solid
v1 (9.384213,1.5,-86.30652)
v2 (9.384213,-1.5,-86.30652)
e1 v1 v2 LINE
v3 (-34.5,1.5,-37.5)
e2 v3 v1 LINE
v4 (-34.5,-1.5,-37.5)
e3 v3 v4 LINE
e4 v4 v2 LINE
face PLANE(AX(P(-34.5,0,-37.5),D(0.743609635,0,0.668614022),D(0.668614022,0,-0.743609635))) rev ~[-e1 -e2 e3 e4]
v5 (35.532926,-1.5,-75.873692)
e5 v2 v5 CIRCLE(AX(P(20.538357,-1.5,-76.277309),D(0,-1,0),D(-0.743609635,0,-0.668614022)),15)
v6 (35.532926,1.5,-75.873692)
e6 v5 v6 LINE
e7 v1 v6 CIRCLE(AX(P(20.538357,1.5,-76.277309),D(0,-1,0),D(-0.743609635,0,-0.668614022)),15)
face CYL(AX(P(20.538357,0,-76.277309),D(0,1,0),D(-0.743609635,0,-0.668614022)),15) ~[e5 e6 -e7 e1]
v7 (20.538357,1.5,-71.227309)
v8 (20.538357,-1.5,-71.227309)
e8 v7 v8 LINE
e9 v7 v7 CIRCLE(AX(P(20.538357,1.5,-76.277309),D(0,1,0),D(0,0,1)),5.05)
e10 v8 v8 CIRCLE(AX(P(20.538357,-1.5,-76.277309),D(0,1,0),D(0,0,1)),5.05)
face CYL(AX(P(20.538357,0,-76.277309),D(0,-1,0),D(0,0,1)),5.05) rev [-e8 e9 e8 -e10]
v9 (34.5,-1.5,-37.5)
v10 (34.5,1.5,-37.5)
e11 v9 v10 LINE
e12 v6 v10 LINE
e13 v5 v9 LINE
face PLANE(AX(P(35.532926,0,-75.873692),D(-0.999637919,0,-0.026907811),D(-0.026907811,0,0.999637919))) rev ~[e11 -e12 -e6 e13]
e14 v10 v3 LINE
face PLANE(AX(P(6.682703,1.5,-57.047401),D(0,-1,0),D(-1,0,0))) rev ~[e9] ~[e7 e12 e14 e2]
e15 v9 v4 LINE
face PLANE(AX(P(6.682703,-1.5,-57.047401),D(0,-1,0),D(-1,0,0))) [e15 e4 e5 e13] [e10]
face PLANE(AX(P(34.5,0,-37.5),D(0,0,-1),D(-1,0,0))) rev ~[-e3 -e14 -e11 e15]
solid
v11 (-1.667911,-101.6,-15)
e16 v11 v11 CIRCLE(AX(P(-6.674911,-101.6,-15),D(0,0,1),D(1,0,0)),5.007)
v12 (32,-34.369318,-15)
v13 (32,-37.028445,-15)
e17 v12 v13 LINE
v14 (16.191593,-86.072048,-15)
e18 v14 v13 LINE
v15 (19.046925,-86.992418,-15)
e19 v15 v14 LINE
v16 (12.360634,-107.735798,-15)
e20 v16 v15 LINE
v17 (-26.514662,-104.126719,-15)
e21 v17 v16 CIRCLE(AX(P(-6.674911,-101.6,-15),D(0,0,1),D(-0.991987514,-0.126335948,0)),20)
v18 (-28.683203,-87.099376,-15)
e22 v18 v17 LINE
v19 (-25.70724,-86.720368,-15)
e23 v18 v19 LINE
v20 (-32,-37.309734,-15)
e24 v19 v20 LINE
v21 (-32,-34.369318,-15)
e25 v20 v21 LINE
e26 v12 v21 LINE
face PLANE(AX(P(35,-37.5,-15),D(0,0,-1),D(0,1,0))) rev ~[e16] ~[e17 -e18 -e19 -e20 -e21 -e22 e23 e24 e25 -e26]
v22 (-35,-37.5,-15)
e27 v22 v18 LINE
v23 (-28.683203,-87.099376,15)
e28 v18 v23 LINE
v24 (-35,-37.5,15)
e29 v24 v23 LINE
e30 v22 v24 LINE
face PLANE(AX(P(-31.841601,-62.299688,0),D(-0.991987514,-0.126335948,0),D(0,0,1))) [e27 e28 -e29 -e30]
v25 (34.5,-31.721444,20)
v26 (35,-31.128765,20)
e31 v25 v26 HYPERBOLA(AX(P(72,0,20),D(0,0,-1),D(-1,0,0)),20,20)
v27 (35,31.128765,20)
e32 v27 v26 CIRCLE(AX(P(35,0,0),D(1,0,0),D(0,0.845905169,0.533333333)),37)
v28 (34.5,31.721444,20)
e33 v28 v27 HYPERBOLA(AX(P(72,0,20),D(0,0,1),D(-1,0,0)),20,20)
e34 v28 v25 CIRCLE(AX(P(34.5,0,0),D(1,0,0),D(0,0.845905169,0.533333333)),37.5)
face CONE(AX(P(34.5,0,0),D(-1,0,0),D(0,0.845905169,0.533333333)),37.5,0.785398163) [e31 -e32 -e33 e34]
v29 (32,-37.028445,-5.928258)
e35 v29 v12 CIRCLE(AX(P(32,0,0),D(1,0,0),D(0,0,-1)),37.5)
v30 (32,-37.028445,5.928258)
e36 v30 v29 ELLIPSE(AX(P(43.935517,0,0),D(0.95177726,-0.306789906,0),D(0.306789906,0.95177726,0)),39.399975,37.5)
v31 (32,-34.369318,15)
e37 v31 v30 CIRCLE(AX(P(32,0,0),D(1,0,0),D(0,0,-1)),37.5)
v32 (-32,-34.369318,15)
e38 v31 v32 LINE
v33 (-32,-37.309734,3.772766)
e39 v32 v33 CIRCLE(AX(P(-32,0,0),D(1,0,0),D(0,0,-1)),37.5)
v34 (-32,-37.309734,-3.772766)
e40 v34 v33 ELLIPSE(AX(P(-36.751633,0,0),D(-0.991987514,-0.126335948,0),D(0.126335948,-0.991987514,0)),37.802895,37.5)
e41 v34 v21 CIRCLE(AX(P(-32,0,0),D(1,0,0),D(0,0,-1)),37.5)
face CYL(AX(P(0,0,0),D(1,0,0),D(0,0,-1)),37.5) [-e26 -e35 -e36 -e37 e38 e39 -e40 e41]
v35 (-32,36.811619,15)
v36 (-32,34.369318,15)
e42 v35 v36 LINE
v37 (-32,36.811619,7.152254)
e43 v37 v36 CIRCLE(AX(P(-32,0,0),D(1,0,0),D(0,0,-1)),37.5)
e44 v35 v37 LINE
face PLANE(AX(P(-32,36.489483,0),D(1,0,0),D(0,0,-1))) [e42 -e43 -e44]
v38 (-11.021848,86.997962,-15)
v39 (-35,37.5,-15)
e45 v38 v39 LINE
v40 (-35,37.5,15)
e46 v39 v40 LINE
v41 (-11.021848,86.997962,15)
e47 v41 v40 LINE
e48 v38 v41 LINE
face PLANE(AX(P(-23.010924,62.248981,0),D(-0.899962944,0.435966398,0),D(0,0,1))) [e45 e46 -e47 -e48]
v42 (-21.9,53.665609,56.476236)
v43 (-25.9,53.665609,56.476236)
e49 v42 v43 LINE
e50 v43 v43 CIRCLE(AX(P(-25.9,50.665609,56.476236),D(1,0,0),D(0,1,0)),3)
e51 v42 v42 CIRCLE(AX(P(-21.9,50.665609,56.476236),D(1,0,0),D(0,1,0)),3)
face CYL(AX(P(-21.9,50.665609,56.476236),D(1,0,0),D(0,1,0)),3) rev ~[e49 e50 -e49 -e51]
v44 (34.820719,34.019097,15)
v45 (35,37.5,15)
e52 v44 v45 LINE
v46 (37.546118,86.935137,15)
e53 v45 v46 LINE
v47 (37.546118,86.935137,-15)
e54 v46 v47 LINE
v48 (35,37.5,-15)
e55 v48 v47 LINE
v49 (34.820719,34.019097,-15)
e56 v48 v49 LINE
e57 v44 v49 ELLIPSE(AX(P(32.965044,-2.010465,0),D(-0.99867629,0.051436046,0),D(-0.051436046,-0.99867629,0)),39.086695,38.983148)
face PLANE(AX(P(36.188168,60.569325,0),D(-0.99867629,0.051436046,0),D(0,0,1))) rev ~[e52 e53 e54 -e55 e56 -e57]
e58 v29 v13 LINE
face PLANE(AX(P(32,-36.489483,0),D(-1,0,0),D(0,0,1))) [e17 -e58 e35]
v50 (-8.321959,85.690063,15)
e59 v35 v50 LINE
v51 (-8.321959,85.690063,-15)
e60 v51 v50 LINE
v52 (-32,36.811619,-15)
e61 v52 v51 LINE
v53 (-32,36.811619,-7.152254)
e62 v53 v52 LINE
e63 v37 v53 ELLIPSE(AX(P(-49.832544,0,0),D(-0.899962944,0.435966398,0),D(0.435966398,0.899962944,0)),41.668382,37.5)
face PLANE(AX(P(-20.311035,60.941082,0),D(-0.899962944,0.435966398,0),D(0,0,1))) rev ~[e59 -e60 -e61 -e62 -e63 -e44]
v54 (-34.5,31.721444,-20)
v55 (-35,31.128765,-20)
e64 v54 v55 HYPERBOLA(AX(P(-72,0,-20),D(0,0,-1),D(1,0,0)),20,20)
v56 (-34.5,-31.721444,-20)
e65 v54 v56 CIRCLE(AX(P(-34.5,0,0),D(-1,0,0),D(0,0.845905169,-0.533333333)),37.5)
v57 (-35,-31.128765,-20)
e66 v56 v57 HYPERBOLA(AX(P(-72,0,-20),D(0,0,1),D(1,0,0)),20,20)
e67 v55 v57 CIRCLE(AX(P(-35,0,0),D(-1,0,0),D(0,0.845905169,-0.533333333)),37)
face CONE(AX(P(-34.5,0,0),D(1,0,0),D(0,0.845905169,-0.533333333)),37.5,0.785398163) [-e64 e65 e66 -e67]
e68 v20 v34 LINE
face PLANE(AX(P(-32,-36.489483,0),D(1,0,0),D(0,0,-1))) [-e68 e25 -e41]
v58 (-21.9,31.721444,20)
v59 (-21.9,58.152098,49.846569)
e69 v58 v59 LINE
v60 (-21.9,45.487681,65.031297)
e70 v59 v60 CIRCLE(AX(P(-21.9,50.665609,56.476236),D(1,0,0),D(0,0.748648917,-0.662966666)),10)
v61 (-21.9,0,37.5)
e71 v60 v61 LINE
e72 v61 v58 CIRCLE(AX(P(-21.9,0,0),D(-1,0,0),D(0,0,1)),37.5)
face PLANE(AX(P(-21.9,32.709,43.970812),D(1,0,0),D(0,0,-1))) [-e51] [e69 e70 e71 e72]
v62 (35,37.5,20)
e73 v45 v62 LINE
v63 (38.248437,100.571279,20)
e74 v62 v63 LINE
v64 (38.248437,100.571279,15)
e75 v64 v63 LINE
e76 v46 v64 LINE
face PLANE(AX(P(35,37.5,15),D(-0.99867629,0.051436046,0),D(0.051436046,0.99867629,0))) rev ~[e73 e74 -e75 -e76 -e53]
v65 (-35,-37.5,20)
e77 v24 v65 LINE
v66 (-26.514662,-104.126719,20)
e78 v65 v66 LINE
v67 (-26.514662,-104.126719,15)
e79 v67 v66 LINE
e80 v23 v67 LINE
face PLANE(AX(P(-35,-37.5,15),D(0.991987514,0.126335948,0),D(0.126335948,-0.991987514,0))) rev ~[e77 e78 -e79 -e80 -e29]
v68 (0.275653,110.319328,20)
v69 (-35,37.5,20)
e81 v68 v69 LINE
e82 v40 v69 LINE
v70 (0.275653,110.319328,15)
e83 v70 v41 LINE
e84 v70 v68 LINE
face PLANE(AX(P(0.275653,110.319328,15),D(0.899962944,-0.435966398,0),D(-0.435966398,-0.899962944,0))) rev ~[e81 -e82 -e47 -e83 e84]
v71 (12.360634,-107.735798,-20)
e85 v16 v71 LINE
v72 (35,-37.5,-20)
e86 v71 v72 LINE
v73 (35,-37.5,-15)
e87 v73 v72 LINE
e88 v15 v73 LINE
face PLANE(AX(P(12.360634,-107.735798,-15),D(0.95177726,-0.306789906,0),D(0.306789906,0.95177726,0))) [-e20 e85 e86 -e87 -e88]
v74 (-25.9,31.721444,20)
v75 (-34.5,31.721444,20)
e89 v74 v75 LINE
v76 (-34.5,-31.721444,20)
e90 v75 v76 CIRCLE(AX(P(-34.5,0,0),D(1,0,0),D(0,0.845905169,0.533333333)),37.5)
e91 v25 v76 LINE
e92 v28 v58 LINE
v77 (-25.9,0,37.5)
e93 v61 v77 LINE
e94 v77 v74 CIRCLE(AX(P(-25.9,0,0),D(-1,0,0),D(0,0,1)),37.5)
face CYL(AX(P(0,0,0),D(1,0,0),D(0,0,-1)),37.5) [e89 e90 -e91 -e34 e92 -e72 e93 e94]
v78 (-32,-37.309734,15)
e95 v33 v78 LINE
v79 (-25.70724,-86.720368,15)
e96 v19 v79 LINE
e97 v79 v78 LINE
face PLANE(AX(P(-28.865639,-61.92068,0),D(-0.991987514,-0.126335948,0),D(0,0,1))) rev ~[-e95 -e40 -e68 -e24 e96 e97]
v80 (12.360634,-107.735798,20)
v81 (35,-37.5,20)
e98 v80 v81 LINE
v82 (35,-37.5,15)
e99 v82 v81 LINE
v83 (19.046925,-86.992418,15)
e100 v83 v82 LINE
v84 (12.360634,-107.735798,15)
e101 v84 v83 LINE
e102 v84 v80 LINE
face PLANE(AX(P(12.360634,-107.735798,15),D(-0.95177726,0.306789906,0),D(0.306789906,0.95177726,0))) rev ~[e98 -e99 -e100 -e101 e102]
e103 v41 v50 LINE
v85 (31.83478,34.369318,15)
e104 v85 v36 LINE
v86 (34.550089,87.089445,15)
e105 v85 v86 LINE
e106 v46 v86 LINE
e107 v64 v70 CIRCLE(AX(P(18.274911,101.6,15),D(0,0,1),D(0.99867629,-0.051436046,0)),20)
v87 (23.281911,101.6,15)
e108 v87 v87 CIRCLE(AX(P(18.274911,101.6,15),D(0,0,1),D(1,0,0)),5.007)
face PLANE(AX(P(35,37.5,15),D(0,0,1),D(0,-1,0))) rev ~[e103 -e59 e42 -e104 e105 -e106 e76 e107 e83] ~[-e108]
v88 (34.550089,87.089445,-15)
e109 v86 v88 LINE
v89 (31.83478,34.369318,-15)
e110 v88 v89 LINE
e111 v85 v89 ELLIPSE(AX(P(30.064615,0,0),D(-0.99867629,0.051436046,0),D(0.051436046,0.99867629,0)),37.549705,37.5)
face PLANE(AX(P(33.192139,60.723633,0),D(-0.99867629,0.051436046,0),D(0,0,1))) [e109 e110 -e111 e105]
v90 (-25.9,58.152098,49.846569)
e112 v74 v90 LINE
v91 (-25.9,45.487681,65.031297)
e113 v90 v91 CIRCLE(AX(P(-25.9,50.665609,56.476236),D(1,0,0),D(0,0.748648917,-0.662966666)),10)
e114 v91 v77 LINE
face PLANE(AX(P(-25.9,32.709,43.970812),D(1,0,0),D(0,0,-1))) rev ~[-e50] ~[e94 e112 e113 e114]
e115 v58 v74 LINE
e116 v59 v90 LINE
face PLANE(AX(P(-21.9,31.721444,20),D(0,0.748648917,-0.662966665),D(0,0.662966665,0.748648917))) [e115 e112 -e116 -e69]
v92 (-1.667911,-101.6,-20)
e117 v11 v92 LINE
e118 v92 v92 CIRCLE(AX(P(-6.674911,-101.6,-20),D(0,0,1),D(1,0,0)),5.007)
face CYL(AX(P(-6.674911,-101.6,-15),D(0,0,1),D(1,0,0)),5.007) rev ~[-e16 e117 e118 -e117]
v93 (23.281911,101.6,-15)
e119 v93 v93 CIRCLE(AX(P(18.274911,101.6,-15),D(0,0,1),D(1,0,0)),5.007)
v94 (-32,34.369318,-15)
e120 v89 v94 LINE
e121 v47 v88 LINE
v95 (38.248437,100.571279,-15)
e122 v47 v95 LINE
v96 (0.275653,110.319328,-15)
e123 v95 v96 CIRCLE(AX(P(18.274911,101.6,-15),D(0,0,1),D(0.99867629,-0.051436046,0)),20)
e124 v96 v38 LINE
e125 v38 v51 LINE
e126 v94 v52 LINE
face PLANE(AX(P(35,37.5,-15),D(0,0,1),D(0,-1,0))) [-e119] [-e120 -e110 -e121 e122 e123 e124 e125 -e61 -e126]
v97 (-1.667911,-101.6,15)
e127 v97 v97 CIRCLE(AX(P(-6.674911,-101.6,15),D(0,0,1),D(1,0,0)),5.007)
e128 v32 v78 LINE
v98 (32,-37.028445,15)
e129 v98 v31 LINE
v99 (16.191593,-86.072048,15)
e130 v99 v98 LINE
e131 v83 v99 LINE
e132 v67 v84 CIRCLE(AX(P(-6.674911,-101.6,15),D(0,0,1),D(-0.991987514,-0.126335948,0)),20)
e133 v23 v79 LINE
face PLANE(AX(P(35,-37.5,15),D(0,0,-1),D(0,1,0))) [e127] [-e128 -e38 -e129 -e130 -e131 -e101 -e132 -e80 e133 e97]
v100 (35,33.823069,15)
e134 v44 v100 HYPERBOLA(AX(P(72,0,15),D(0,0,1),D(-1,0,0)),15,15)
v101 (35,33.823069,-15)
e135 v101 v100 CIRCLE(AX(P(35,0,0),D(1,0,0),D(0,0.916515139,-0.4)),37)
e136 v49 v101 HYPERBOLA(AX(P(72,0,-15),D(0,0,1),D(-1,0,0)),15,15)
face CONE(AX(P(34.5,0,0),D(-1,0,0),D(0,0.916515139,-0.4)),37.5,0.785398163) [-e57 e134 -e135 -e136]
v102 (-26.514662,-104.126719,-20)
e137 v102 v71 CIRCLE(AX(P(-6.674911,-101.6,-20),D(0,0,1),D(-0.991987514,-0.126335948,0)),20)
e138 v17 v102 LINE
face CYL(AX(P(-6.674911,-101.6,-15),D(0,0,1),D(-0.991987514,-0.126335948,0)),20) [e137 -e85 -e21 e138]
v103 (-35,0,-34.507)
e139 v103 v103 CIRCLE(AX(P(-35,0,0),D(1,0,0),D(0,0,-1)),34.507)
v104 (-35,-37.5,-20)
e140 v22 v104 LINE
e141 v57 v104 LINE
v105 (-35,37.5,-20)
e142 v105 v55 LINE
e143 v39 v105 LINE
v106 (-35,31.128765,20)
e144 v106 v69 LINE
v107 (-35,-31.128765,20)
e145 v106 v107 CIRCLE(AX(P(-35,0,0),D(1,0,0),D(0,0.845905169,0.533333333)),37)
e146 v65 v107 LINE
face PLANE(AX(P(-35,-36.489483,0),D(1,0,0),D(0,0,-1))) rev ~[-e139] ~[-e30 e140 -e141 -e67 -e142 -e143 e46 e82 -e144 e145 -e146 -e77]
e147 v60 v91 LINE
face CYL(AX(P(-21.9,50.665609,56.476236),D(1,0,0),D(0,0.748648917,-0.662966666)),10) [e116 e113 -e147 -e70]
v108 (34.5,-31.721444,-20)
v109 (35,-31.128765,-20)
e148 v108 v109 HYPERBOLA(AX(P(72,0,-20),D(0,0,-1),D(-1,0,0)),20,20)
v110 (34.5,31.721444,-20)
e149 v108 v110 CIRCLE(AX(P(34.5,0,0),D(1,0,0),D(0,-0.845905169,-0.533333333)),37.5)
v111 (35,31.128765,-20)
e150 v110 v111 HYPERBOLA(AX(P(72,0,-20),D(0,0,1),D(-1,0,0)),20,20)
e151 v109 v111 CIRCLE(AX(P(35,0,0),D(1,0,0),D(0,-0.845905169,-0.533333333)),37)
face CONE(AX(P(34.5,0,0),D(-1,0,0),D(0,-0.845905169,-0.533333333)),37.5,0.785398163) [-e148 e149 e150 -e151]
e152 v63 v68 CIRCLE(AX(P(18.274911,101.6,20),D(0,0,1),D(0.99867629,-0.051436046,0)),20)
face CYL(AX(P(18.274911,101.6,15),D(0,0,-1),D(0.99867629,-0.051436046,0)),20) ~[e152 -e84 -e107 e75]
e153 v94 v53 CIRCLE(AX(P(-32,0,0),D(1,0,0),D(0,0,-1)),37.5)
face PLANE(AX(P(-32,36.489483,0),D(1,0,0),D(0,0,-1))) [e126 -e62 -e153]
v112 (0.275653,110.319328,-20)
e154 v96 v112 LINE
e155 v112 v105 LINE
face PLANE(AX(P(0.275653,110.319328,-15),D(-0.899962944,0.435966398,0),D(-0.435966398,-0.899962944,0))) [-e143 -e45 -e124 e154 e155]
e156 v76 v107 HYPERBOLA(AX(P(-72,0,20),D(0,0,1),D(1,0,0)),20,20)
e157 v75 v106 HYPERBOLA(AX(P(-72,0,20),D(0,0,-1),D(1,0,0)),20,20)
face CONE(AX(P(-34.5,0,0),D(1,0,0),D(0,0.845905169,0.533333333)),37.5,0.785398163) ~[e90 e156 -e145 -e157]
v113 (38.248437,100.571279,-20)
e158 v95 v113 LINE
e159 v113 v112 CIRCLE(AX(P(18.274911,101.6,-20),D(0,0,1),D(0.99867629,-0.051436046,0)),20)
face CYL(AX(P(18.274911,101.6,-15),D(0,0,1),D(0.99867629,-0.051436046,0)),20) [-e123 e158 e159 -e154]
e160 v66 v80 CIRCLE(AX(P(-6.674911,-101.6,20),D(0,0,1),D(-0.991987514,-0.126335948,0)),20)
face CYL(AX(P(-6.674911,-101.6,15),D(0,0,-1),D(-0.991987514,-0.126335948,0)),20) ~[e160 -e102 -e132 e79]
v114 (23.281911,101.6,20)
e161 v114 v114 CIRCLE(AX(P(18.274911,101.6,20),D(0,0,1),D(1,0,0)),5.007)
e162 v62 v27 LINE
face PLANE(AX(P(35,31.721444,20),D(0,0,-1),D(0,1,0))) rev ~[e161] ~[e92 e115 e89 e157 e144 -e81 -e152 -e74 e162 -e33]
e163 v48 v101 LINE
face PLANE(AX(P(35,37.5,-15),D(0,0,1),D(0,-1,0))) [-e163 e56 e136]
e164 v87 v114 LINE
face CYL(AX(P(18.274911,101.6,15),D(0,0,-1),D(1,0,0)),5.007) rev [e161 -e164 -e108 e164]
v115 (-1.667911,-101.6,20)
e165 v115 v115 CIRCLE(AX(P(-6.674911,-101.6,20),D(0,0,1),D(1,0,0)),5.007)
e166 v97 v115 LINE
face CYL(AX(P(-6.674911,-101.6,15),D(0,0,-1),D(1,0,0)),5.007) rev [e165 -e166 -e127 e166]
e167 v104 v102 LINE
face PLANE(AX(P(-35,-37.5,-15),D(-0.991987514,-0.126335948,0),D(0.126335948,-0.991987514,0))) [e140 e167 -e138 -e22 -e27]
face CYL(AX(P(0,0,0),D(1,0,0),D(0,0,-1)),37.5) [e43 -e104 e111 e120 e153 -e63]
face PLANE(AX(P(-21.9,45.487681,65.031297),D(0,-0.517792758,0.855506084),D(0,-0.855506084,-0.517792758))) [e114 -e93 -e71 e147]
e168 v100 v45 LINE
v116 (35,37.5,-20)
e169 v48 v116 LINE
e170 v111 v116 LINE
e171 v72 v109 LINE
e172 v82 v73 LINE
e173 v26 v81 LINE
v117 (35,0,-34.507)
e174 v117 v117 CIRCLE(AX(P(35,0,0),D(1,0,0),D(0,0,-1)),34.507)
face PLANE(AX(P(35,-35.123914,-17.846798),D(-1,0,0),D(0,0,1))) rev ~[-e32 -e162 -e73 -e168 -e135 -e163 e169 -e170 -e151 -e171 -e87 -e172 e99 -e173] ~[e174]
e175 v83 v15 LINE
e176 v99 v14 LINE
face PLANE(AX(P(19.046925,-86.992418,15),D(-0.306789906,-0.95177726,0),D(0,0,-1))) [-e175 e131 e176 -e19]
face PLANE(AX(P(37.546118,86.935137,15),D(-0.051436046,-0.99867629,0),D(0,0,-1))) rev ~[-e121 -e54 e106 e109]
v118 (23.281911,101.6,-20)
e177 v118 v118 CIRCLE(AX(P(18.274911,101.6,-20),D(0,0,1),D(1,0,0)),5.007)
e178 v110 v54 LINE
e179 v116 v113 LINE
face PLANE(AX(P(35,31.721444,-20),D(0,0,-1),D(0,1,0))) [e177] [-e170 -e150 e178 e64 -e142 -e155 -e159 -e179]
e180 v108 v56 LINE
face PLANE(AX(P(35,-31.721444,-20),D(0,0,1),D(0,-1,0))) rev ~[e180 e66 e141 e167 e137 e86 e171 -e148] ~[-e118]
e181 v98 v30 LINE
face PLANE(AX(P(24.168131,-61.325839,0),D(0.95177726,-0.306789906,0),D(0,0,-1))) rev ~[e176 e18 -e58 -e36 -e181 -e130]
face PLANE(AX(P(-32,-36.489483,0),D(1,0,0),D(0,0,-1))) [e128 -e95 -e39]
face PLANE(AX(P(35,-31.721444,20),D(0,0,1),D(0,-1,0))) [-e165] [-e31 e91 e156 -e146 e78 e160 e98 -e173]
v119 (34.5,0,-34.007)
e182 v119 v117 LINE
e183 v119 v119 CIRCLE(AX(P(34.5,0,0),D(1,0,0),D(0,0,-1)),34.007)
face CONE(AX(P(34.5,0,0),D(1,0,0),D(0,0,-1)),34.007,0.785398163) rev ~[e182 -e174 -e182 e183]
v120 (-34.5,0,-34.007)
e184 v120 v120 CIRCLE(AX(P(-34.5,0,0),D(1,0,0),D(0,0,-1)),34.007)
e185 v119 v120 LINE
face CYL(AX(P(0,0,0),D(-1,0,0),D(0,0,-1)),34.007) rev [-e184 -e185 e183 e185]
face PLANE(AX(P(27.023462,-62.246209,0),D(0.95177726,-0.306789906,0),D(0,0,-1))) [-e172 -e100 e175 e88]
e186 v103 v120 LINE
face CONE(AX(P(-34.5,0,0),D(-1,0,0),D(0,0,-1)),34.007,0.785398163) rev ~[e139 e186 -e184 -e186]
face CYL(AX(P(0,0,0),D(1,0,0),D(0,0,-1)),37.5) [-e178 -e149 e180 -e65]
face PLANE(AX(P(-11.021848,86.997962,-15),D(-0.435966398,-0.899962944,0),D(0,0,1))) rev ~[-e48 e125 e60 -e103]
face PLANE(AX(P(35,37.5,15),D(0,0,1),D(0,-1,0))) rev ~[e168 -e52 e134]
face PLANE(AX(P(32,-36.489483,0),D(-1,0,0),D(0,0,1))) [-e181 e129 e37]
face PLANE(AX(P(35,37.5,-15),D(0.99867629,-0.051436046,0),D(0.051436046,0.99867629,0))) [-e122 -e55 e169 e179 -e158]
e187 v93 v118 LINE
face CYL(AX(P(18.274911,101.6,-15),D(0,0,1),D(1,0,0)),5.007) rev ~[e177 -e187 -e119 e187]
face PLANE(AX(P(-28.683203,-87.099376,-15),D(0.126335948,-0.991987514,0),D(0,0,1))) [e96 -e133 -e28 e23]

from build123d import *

# Parameters (mm, degrees)
SKETCH1_R             = 37.5
SKETCH1_R_2           = 34.007
BOSS_EXTRUDE1_DEPTH   = 35
BOSS_EXTRUDE2_START   = 15
SKETCH4_R             = 5.007
BOSS_EXTRUDE2_DEPTH   = 5
BOSS_EXTRUDE2_2_DEPTH = 5
BOSS_EXTRUDE3_START   = -15
SKETCH5_R             = 5.007
BOSS_EXTRUDE3_DEPTH   = 5
BOSS_EXTRUDE3_2_DEPTH = 5
BOSS_EXTRUDE4_DEPTH   = 70
CHAMFER1_SIZE         = 0.5
CHAMFER2_SIZE         = 0.5
BOSS_EXTRUDE8_DEPTH   = 3
SKETCH13_W            = 30
SKETCH13_H            = 55
BOSS_EXTRUDE9_DEPTH   = 3
BOSS_EXTRUDE10_DEPTH  = 3
SKETCH15_W            = 30
SKETCH15_H            = 50
BOSS_EXTRUDE11_DEPTH  = 3
BOSS_EXTRUDE12_DEPTH  = 3
SKETCH17_W            = 30
SKETCH17_H            = 52
BOSS_EXTRUDE13_DEPTH  = 3
BOSS_EXTRUDE14_DEPTH  = 3
SKETCH21_R            = 5.05
BOSS_EXTRUDE15_DEPTH  = 1.5
BOSS_EXTRUDE16_START  = 4
SKETCH22_R            = 3
BOSS_EXTRUDE16_DEPTH  = 4


with BuildPart() as part:
    # Sketch1 → Boss-Extrude1 (new, symmetric)
    with BuildSketch(Plane(origin=(0, 0, 0), x_dir=(0, 0, -1), z_dir=(1, 0, 0))):
        Circle(SKETCH1_R)
        Circle(SKETCH1_R_2, mode=Mode.SUBTRACT)
    extrude(amount=BOSS_EXTRUDE1_DEPTH, both=True)



with BuildPart() as body_2:
    # Sketch4 → Boss-Extrude2 (new body)
    with BuildSketch(Plane.XY.offset(BOSS_EXTRUDE2_START)):
        with BuildLine():
            Line((0.275652512, 110.319327951), (-35, 37.5))
            Line((-35, 37.5), (35, 37.5))
            Line((35, 37.5), (38.248437197, 100.571279081))
            ThreePointArc((38.248437197, 100.571279081), (23.247893056, 120.971872737), (0.275652512, 110.319327951))
        make_face()
        with Locations((18.274911388, 101.6)):
            Circle(SKETCH4_R, mode=Mode.SUBTRACT)
    extrude(amount=BOSS_EXTRUDE2_DEPTH)


with BuildPart() as body_3:
    # Sketch4 → Boss-Extrude2 2 (new body)
    with BuildSketch(Plane.XY.offset(BOSS_EXTRUDE2_START)):
        with BuildLine():
            Line((-35, -37.5), (-26.514661672, -104.126718952))
            ThreePointArc((-26.514661672, -104.126718952), (-8.523708177, -121.514365429), (12.360633821, -107.735798124))
            Line((12.360633821, -107.735798124), (35, -37.5))
            Line((35, -37.5), (-35, -37.5))
        make_face()
        with Locations((-6.674911388, -101.6)):
            Circle(SKETCH4_R, mode=Mode.SUBTRACT)
    extrude(amount=BOSS_EXTRUDE2_2_DEPTH)


with BuildPart() as body_4:
    # Sketch5 → Boss-Extrude3 (new body)
    with BuildSketch(Plane.XY.offset(BOSS_EXTRUDE3_START)):
        with BuildLine():
            Line((35, -37.5), (-35, -37.5))
            Line((-35, -37.5), (-26.514661672, -104.126718952))
            ThreePointArc((-26.514661672, -104.126718952), (-8.523708177, -121.514365429), (12.360633821, -107.735798124))
            Line((12.360633821, -107.735798124), (35, -37.5))
        make_face()
        with Locations((-6.674911388, -101.6)):
            Circle(SKETCH5_R, mode=Mode.SUBTRACT)
    extrude(amount=-BOSS_EXTRUDE3_DEPTH)


with BuildPart() as body_5:
    # Sketch5 → Boss-Extrude3 2 (new body)
    with BuildSketch(Plane.XY.offset(BOSS_EXTRUDE3_START)):
        with BuildLine():
            Line((35, 37.5), (38.248437197, 100.571279081))
            ThreePointArc((38.248437197, 100.571279081), (23.247893056, 120.971872737), (0.275652512, 110.319327951))
            Line((0.275652512, 110.319327951), (-35, 37.5))
            Line((-35, 37.5), (35, 37.5))
        make_face()
        with Locations((18.274911388, 101.6)):
            Circle(SKETCH5_R, mode=Mode.SUBTRACT)
    extrude(amount=-BOSS_EXTRUDE3_2_DEPTH)


with BuildPart() as part_1:
    add(part.part)

    add(body_2.part)  # Boss-Extrude4 merges body 2

    add(body_3.part)  # Boss-Extrude4 merges body 3

    add(body_4.part)  # Boss-Extrude4 merges body 4

    add(body_5.part)  # Boss-Extrude4 merges body 5
    # Sketch6 → Boss-Extrude4 (add)
    with BuildSketch(Plane(origin=(35, 0, 0), x_dir=(0, 0, -1), z_dir=(1, 0, 0))):
        with BuildLine():
            Line((20, -37.5), (15, -37.5))
            Line((15, -37.5), (15, -34.369317712))
            ThreePointArc((15, -34.369317712), (17.550008803, -33.139812779), (20, -31.721443851))
            Line((20, -31.721443851), (20, -37.5))
        make_face()
        with BuildLine():
            Line((-20, -37.5), (-15, -37.5))
            Line((-15, -37.5), (-15, -34.369317712))
            ThreePointArc((-15, -34.369317712), (-17.550008803, -33.139812779), (-20, -31.721443851))
            Line((-20, -31.721443851), (-20, -37.5))
        make_face()
        with BuildLine():
            Line((20, 37.5), (15, 37.5))
            Line((15, 37.5), (15, 34.369317712))
            ThreePointArc((15, 34.369317712), (17.550008803, 33.139812779), (20, 31.721443851))
            Line((20, 31.721443851), (20, 37.5))
        make_face()
        with BuildLine():
            Line((-20, 37.5), (-15, 37.5))
            Line((-15, 37.5), (-15, 34.369317712))
            ThreePointArc((-15, 34.369317712), (-17.550008803, 33.139812779), (-20, 31.721443851))
            Line((-20, 31.721443851), (-20, 37.5))
        make_face()
    extrude(amount=-BOSS_EXTRUDE4_DEPTH)

    # Chamfer1
    chamfer1_edges = [part_1.edges().sort_by_distance(p)[0] for p in [
        (35, -37.5, 0),
        (35, 37.5, 0),
        (35, 0, 34.007),
        (35, 0, 37.5),
        (35, 0, -37.5),
    ]]
    chamfer(chamfer1_edges, length=CHAMFER1_SIZE)

    # Chamfer2
    chamfer2_edges = [part_1.edges().sort_by_distance(p)[0] for p in [
        (-35, 0, -37.5),
        (-35, -37.5, 0),
        (-35, 37.5, 0),
        (-35, 0, 34.007),
        (-35, 0, 37.5),
    ]]
    chamfer(chamfer2_edges, length=CHAMFER2_SIZE)

    # Sketch12 → Boss-Extrude8 (add)
    with BuildSketch(Plane(origin=(32.981103177, -1.69866608, 0), x_dir=(0, 0, -1), z_dir=(0.9986762904840372, -0.05143604597014742, 0))):
        with BuildLine():
            Line((-15, 39.250622502), (-15, 88.751284357))
            Line((-15, 88.751284357), (15, 88.751284357))
            Line((15, 88.751284357), (15, 39.250622502))
            Line((15, 39.250622502), (15, 35.578558741))
            add(Edge.make_bspline(
                [(15, 35.578558741), (0, 42.22201753), (-15, 35.578558741)],
                knots=[1.153374055, 1.153374055, 1.153374055, 1.988218598, 1.988218598, 1.988218598], degree=2, weights=[1, 0.914137001, 1]))
            Line((-15, 35.578558741), (-15, 39.250622502))
        make_face()
    extrude(amount=-BOSS_EXTRUDE8_DEPTH)

    # Sketch13 → Boss-Extrude9 (add)
    with BuildSketch(Plane(origin=(-43.060925602, 20.859877331, 0), x_dir=(0, 0, 1), z_dir=(-0.8999629437964011, 0.435966397550678, 0))):
        with Locations((0, 45.989786478)):
            Rectangle(SKETCH13_W, SKETCH13_H)
    extrude(amount=-BOSS_EXTRUDE9_DEPTH)

    # Sketch14 → Boss-Extrude10 (add)
    with BuildSketch(Plane.ZY.offset(35)):
        with BuildLine():
            Line((15, 37.5), (15, 33.823069051))
            ThreePointArc((15, 33.823069051), (0, 37), (-15, 33.823069051))
            Line((-15, 33.823069051), (-15, 37.5))
            Line((-15, 37.5), (15, 37.5))
        make_face()
    extrude(amount=-BOSS_EXTRUDE10_DEPTH)

    # Sketch15 → Boss-Extrude11 (add)
    with BuildSketch(Plane(origin=(-39.141011091, -4.984857829, 0), x_dir=(0, 0, 1), z_dir=(-0.9919875142057744, -0.1263359476152713, 0))):
        with Locations((0, -57.777773616)):
            Rectangle(SKETCH15_W, SKETCH15_H)
    extrude(amount=-BOSS_EXTRUDE11_DEPTH)

    # Sketch16 → Boss-Extrude12 (add)
    with BuildSketch(Plane.ZY.offset(35)):
        with BuildLine():
            Line((15, -37.5), (-15, -37.5))
            Line((-15, -37.5), (-15, -33.823069051))
            ThreePointArc((-15, -33.823069051), (0, -37), (15, -33.823069051))
            Line((15, -33.823069051), (15, -37.5))
        make_face()
    extrude(amount=-BOSS_EXTRUDE12_DEPTH)

    # Sketch17 → Boss-Extrude13 (add)
    with BuildSketch(Plane(origin=(42.655635488, -13.749349722, 0), x_dir=(0, 0, -1), z_dir=(0.9517772604145124, -0.30678990621897206, 0))):
        with Locations((0, -50.954000548)):
            Rectangle(SKETCH17_W, SKETCH17_H)
    extrude(amount=-BOSS_EXTRUDE13_DEPTH)

    # Sketch19 → Boss-Extrude14 (add)
    with BuildSketch(Plane(origin=(35, 0, 0), x_dir=(0, 0, -1), z_dir=(1, 0, 0))):
        with BuildLine():
            Line((-15, -37.5), (-15, -33.823069051))
            ThreePointArc((-15, -33.823069051), (0, -37), (15, -33.823069051))
            Line((15, -33.823069051), (15, -37.5))
            Line((15, -37.5), (-15, -37.5))
        make_face()
    extrude(amount=-BOSS_EXTRUDE14_DEPTH)

    # Sketch22 → Boss-Extrude16 (add)
    with BuildSketch(Plane(origin=(-25.9, 0, 0), x_dir=(0, 0, -1), z_dir=(1, 0, 0)).offset(BOSS_EXTRUDE16_START)):
        with BuildLine():
            Line((-20, 31.721443851), (-49.846569163, 58.152097784))
            ThreePointArc((-49.846569163, 58.152097784), (-62.88120643, 58.345214822), (-65.03129666, 45.487681042))
            Line((-65.03129666, 45.487681042), (-37.5, 0))
            ThreePointArc((-37.5, 0), (-32.834813841, 18.114220933), (-20, 31.721443851))
        make_face()
        with Locations(Location((-56.476235818, 50.665608617, 0), (0, 0, 90))):
            Circle(SKETCH22_R, mode=Mode.SUBTRACT)
    extrude(amount=-BOSS_EXTRUDE16_DEPTH)


with BuildPart() as body_2_2:
    # Sketch21 → Boss-Extrude15 (new, symmetric)
    with BuildSketch(Plane(origin=(0, 0, 0), x_dir=(1, 0, 0), z_dir=(0, 1, 0))):
        with BuildLine():
            Line((34.5, 37.5), (-34.5, 37.5))
            Line((-34.5, 37.5), (9.384212743, 86.306519652))
            ThreePointArc((9.384212743, 86.306519652), (26.096971037, 90.209351988), (35.532926057, 75.873692154))
            Line((35.532926057, 75.873692154), (34.5, 37.5))
        make_face()
        with Locations(Location((20.538357267, 76.277309318, 0), (0, 0, 270))):
            Circle(SKETCH21_R, mode=Mode.SUBTRACT)
    extrude(amount=BOSS_EXTRUDE15_DEPTH, both=True)


solid = Compound([part_1.part, body_2_2.part])
